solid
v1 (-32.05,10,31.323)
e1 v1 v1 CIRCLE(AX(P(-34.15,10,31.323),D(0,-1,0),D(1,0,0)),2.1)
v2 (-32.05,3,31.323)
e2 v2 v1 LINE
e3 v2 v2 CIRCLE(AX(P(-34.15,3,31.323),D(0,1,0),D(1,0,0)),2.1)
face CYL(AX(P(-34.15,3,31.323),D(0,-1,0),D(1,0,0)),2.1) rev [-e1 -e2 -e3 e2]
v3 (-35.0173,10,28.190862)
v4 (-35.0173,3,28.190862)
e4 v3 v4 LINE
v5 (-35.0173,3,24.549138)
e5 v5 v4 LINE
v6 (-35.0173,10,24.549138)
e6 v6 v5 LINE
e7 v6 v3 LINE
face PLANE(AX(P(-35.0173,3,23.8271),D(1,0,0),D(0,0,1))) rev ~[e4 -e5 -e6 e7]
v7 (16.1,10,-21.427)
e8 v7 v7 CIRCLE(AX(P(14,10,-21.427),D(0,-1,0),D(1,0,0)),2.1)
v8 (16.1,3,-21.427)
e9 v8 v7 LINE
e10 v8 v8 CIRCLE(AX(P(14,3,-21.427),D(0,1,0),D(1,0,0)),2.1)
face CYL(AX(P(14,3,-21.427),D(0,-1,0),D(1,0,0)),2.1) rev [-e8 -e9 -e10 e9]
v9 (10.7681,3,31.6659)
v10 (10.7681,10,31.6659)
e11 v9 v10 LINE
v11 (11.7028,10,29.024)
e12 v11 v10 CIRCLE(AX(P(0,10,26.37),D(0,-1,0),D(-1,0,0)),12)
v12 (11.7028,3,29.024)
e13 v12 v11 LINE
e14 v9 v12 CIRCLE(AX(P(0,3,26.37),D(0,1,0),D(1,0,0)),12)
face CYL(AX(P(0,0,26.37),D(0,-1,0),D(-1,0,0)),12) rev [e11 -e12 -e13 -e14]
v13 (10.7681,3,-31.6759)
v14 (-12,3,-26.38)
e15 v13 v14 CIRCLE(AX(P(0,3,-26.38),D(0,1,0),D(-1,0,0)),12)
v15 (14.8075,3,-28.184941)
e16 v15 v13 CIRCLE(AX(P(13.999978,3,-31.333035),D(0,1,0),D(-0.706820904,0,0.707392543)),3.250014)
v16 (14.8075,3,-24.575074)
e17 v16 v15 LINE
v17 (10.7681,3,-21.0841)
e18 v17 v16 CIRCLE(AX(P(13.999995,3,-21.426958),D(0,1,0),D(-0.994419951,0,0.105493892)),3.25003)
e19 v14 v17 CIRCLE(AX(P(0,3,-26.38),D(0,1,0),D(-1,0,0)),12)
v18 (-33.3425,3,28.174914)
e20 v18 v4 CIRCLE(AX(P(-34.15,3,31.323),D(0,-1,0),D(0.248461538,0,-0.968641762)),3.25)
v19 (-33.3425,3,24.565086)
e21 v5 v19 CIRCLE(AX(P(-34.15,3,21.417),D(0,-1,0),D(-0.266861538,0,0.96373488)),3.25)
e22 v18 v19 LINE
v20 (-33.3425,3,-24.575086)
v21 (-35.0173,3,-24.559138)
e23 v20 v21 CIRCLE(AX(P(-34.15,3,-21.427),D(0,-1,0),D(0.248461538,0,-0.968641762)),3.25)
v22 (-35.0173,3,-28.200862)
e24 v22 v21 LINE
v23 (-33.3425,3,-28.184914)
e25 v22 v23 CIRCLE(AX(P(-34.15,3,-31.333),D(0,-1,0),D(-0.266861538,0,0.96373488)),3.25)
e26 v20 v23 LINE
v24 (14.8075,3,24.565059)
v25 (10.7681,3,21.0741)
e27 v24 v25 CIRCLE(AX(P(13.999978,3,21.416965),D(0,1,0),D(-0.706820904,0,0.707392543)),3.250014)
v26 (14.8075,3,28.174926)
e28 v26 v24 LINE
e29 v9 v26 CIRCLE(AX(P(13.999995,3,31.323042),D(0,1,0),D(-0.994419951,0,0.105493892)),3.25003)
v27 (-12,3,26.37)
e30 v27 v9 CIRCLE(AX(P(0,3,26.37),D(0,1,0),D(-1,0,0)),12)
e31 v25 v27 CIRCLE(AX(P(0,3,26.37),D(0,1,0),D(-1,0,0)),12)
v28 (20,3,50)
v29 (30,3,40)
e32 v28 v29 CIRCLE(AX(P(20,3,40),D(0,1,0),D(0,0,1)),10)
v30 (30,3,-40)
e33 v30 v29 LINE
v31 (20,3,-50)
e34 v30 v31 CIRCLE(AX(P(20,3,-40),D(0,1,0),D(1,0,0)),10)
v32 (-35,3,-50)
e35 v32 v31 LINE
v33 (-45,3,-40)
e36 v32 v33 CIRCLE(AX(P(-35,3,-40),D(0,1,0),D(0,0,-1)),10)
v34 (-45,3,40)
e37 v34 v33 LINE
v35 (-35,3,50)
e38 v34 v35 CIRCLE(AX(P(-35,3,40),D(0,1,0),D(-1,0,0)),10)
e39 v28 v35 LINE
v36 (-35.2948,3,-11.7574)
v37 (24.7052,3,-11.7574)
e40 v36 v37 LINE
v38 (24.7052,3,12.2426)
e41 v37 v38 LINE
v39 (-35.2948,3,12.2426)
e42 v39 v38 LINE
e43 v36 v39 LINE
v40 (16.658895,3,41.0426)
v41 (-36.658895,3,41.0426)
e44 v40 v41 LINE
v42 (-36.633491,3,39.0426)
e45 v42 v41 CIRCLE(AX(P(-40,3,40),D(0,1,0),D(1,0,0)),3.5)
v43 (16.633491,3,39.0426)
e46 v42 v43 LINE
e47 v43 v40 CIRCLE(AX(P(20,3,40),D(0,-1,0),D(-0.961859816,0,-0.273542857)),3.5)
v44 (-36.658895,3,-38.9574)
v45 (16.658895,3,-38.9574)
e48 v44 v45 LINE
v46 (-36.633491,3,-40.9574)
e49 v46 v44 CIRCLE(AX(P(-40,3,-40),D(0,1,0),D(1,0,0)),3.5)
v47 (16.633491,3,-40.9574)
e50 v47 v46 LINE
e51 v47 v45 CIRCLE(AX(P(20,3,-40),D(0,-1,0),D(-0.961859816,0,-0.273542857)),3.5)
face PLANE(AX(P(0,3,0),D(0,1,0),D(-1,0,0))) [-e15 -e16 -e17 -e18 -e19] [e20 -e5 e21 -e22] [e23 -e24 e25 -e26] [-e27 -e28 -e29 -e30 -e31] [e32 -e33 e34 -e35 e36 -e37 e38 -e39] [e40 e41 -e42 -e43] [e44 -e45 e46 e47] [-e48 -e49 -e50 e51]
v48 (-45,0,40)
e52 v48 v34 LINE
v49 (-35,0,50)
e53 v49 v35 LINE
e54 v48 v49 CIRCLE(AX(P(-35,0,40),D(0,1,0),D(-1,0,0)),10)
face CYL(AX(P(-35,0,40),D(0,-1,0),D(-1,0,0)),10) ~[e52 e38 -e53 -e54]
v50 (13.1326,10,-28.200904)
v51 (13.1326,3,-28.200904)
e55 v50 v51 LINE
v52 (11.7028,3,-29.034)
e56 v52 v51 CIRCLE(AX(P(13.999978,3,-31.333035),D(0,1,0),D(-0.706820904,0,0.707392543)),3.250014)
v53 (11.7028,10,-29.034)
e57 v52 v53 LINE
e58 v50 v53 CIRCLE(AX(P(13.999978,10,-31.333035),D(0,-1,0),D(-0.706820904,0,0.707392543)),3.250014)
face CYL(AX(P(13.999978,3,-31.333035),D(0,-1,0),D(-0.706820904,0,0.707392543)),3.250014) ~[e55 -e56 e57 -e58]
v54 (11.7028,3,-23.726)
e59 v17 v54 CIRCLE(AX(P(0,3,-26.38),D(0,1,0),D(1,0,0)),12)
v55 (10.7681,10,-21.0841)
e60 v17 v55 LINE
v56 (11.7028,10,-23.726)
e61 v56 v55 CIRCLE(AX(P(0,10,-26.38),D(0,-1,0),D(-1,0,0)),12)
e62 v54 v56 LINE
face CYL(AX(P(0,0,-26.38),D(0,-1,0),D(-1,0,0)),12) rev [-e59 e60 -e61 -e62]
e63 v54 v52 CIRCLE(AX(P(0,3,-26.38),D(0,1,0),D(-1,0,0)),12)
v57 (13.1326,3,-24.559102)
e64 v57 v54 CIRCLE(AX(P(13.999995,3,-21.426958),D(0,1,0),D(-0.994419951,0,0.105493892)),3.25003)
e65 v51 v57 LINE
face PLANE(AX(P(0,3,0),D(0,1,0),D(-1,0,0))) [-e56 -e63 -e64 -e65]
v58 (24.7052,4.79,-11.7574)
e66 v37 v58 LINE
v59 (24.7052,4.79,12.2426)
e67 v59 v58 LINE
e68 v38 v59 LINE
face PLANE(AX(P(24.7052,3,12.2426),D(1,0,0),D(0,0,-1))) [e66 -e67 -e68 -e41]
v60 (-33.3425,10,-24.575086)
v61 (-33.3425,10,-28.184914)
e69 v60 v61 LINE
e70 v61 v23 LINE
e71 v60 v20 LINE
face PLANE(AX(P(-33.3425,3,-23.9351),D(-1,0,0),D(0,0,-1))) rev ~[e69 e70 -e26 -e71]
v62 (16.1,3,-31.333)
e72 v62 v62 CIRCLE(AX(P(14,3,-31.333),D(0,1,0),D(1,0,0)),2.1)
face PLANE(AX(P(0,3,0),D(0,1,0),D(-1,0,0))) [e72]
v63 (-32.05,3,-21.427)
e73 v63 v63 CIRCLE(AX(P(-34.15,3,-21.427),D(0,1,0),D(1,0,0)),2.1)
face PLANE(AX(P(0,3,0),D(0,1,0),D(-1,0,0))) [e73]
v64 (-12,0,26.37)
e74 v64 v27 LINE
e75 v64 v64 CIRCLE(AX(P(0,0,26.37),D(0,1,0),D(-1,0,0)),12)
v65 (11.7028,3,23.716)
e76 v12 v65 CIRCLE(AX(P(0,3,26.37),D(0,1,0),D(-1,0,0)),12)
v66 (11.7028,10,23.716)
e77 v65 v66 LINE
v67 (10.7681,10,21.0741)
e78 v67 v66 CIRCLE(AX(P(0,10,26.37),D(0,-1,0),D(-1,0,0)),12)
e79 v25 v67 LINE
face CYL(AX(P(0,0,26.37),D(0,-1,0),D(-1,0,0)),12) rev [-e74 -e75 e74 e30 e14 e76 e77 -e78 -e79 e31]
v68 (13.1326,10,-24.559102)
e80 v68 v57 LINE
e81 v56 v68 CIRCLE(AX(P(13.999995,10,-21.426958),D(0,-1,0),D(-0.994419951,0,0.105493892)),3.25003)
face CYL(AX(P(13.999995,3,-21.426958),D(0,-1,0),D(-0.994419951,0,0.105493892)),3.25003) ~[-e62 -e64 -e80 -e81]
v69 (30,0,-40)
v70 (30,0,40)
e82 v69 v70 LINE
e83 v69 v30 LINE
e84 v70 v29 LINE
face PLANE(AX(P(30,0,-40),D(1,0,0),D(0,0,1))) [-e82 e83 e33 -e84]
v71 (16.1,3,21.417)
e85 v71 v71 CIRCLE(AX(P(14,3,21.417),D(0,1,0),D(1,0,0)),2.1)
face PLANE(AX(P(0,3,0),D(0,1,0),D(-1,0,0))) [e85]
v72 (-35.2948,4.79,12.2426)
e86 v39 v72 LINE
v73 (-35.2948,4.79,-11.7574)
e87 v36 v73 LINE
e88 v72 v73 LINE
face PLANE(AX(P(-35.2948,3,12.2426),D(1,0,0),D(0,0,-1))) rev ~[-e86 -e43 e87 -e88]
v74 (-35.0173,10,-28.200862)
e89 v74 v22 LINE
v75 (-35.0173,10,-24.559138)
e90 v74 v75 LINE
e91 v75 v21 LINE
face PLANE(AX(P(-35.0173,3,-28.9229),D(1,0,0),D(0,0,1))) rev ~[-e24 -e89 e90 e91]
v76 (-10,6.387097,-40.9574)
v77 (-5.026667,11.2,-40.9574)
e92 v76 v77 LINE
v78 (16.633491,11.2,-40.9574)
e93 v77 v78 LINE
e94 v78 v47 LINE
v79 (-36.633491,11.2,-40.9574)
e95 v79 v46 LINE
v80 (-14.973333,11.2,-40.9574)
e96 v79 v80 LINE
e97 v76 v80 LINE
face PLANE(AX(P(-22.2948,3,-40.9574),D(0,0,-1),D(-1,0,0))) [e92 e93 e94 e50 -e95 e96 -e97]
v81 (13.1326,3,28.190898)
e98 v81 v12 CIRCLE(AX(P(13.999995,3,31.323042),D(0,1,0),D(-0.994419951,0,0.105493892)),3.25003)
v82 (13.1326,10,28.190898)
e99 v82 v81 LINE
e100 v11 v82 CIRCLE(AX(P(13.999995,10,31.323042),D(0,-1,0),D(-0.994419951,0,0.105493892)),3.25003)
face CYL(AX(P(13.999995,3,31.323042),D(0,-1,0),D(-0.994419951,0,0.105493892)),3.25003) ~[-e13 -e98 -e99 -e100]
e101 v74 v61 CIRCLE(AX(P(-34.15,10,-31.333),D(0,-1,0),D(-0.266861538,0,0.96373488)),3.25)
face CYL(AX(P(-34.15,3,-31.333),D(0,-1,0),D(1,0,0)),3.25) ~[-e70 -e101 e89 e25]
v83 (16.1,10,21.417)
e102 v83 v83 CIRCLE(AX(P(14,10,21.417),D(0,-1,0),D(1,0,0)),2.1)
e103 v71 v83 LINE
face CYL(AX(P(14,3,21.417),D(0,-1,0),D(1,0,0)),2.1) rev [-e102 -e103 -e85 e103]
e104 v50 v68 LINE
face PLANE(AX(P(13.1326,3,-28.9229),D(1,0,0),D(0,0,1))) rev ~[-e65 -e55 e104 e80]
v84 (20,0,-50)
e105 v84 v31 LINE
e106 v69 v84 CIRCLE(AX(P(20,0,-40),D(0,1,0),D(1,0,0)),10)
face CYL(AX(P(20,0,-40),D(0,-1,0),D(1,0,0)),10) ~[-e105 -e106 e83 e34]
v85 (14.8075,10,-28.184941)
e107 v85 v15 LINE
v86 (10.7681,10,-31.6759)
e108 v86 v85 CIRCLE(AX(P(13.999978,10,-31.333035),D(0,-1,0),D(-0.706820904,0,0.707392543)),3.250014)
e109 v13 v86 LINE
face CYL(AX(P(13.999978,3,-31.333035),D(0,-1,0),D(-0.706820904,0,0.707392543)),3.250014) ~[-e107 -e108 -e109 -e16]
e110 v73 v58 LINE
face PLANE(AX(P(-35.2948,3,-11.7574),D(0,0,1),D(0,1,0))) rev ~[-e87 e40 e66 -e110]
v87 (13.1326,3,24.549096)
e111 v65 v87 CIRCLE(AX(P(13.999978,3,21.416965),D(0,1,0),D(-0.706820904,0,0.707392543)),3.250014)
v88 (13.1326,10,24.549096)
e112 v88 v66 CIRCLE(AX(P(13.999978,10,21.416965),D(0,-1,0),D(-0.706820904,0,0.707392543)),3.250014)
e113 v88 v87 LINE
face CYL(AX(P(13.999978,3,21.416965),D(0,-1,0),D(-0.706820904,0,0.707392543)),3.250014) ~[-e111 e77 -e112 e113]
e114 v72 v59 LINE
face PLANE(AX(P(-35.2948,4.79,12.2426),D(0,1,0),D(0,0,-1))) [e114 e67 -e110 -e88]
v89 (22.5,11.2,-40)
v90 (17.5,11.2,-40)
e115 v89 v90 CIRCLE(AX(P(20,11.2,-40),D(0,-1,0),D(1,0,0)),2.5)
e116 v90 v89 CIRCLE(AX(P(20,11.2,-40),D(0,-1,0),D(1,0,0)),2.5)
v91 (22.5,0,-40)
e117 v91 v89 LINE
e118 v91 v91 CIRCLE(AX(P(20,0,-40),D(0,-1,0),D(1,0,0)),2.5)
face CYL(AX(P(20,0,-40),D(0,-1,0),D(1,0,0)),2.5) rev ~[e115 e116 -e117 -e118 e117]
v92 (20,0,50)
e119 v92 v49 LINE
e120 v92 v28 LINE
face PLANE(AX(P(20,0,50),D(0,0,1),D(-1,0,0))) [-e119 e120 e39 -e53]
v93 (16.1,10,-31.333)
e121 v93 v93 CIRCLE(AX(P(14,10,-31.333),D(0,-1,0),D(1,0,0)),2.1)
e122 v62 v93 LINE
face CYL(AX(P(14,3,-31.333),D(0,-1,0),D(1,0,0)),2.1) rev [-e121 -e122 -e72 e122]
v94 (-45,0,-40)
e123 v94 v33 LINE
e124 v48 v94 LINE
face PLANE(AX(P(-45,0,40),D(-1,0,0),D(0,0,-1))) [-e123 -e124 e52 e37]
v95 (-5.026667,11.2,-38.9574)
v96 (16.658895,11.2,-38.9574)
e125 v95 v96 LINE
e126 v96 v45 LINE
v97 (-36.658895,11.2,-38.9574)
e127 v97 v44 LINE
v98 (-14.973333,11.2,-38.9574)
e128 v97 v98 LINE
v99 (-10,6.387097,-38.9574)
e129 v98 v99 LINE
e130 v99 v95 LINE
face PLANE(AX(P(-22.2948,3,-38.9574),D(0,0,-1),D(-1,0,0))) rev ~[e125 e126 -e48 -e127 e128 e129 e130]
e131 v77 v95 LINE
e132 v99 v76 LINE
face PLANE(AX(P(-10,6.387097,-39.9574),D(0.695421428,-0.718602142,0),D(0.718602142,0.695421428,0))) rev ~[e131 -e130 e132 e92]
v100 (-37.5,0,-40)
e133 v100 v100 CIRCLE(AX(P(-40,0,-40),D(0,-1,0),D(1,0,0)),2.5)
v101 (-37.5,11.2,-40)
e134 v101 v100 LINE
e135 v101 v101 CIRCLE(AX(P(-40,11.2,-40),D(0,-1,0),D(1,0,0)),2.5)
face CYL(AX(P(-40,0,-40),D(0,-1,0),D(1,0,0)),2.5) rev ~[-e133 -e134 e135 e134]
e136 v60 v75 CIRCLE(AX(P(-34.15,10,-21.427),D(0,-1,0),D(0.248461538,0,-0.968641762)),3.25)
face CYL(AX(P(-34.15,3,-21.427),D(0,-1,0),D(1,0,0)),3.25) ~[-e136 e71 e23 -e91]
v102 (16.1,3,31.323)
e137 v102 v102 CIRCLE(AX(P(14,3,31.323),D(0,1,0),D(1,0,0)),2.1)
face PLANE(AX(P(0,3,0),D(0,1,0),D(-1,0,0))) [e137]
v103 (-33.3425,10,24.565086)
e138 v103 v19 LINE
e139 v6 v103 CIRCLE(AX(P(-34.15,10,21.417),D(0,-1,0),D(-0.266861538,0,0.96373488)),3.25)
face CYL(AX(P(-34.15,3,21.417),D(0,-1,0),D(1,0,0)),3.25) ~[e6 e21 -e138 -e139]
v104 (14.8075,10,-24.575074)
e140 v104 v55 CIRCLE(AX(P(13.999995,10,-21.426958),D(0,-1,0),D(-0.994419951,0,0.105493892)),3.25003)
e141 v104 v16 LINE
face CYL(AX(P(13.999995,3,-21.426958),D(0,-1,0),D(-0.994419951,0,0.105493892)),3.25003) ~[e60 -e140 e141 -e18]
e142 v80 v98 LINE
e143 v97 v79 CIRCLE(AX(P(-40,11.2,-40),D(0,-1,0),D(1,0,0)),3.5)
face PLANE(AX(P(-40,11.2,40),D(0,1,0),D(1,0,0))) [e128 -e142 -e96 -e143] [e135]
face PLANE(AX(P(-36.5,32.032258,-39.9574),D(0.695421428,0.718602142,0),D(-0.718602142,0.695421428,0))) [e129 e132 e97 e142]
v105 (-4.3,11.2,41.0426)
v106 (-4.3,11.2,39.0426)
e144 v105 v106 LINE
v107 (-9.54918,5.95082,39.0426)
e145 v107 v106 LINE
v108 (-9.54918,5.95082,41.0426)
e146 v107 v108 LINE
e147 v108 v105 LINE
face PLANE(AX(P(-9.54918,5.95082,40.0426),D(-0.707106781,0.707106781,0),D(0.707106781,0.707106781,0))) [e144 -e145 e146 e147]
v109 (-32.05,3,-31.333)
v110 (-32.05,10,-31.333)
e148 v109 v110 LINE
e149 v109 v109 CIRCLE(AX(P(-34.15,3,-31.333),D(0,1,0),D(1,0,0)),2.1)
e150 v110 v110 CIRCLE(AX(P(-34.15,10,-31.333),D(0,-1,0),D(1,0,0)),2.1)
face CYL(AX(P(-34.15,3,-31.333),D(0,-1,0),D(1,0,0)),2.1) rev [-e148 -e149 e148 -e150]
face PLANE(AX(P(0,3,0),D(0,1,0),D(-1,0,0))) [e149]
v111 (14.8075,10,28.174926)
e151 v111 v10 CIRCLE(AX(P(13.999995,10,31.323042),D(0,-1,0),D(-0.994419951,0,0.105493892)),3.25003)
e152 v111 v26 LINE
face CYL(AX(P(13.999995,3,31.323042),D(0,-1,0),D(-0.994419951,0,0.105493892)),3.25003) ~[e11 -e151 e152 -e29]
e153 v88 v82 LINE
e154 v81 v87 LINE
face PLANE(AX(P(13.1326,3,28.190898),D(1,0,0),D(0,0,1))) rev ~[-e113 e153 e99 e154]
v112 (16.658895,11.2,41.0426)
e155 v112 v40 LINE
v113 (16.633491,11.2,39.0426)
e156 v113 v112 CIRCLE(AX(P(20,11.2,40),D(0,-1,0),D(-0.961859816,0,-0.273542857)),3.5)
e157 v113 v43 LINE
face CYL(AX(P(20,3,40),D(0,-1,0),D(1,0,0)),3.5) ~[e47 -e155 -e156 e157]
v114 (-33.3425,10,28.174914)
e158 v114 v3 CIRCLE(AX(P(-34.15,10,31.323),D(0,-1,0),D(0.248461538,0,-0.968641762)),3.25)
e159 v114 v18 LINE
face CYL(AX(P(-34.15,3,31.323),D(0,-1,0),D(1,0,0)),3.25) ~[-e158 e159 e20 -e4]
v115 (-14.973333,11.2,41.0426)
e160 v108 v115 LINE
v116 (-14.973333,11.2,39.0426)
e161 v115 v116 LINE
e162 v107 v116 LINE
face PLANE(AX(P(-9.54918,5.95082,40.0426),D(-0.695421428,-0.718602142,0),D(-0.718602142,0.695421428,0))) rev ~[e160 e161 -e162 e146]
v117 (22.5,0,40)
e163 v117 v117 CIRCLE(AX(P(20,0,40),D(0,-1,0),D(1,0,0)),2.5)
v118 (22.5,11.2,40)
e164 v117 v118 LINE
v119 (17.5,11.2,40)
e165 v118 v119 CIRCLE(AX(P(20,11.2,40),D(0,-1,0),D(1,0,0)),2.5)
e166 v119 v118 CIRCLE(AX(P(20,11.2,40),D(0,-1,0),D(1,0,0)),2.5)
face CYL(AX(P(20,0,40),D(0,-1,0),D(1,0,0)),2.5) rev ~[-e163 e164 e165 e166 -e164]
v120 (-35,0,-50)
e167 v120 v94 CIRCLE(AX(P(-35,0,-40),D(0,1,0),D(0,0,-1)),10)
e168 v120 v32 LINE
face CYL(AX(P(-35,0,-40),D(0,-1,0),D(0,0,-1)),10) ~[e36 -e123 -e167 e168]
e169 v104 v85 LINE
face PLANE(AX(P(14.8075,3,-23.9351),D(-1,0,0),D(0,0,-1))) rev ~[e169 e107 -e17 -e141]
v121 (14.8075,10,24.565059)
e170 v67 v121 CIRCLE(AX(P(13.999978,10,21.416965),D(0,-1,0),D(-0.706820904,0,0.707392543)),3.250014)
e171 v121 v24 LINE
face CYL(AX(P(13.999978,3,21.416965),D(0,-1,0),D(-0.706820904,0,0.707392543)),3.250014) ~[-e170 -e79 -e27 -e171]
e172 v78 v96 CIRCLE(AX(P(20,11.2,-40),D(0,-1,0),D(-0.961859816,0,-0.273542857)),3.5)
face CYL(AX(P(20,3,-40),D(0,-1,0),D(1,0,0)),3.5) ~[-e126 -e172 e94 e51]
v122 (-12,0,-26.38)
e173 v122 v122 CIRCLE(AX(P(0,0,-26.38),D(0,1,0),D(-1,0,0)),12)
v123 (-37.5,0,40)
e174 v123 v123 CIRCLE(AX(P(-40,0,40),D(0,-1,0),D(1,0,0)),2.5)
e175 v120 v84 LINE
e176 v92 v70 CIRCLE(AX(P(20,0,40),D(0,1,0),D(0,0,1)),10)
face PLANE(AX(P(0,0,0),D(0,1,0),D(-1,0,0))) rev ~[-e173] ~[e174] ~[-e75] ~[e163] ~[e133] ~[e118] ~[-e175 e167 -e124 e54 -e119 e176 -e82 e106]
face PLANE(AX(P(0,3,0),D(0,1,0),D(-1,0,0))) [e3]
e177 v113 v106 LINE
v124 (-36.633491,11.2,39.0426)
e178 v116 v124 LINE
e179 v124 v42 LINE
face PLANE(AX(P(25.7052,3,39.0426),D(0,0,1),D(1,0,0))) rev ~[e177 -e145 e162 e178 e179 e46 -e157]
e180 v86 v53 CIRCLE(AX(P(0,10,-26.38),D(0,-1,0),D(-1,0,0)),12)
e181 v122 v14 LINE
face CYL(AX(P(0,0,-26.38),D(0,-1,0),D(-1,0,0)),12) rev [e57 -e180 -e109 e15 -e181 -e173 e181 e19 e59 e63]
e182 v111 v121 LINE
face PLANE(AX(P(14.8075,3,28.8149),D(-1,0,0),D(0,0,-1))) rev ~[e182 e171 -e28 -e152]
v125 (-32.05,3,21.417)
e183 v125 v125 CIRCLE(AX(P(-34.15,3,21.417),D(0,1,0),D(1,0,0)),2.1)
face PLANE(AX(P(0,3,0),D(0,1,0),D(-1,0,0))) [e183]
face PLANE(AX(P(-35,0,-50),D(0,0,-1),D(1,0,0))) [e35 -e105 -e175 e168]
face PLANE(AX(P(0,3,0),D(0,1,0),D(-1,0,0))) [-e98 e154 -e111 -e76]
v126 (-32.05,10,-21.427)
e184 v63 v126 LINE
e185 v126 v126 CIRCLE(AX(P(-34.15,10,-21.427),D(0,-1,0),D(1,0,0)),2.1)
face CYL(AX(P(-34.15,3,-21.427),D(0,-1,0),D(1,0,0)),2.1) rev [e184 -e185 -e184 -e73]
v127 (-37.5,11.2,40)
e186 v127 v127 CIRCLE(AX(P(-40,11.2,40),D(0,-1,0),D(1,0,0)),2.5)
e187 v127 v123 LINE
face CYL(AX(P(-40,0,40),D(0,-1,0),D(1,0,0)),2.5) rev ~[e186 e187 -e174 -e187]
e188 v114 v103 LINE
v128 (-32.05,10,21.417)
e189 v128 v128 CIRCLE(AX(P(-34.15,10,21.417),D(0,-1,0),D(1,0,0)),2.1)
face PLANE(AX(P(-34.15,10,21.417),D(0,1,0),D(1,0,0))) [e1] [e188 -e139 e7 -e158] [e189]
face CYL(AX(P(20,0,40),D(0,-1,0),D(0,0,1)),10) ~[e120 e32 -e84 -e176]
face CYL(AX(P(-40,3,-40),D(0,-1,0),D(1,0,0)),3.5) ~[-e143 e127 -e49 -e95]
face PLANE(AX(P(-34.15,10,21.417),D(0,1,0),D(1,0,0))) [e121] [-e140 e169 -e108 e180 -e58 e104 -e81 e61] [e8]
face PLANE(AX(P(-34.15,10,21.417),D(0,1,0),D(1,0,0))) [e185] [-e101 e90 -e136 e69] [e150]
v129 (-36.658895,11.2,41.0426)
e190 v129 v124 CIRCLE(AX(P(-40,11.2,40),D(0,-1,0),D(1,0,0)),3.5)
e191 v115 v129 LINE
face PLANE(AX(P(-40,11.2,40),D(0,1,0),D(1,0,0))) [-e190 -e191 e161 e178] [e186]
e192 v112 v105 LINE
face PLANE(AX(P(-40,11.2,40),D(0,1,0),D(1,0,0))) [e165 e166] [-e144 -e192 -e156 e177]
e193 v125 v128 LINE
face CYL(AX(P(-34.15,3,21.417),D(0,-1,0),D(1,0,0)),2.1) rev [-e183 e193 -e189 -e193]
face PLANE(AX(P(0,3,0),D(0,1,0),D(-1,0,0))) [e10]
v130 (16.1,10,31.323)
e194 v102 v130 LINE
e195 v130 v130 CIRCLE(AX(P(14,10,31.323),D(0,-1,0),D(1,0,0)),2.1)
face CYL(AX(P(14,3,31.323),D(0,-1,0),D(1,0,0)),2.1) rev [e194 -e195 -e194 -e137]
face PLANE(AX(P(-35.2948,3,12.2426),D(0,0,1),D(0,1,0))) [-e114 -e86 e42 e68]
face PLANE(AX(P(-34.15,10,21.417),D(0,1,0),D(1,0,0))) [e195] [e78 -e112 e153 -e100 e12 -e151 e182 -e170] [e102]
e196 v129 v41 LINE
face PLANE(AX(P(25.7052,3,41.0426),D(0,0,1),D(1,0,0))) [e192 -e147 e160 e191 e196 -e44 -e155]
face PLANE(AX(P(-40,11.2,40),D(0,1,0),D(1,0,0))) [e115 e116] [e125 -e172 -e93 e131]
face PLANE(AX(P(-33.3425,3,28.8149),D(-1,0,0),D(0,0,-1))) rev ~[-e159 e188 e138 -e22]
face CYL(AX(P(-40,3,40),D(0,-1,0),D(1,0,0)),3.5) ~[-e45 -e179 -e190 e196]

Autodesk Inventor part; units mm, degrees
sketch "Sketch1" plane through (0, 0, 0) normal (0, 1, 0) x (-1, 0, 0)
  line L0 (45, 40) -> (45, -40)
  circle A0 centre (0, 26.37) radius 12
  circle A1 centre (0, -26.38) radius 12
  line L1 (45, 40) -> (45, 40)
  line L2 (45, -40) -> (45, -40)
  line L3 (45, 40) -> (45, 40)
  line L4 (45, -40) -> (45, -40)
  line L5 (35, -50) -> (-20, -50)
  line L6 (-30, -40) -> (-30, 40)
  line L7 (-20, 50) -> (35, 50)
  arc A2 (45, 40) -> (35, 50) centre (35, 40) ccw
  arc A3 (-20, 50) -> (-30, 40) centre (-20, 40) ccw
  arc A4 (-30, -40) -> (-20, -50) centre (-20, -40) ccw
  arc A5 (35, -50) -> (45, -40) centre (35, -40) ccw
  point P0 (0, 0)
  dimension "d4" = 24
  dimension "d5" = 24
extrude "Extrusion1" add sketch "Sketch1" along normal blind 3
sketch "Sketch4" plane through (0, 3, 0) normal (0, 1, 0) x (1, 0, 0)
  arc A0 (11.7028, -23.716) -> (10.7681, -21.0741) centre (14, -21.417) ccw
  arc A1 (10.7681, -31.6659) -> (11.7028, -29.024) centre (14, -31.323) ccw
  circle A2 centre (0, -26.37) radius 12
  circle A3 centre (-34.15, -21.417) radius 3.25
  circle A4 centre (-34.15, -31.323) radius 3.25
  circle A5 centre (0, 26.38) radius 12
  arc A6 (11.7028, 29.034) -> (10.7681, 31.6759) centre (14, 31.333) ccw
  arc A7 (10.7681, 21.0841) -> (11.7028, 23.726) centre (14, 21.427) ccw
  circle A8 centre (-34.15, 31.333) radius 3.25
  circle A9 centre (-34.15, 21.427) radius 3.25
  arc A10 (11.7028, 29.034) -> (10.7681, 31.6759) centre (14, 31.333) ccw
  arc A11 (10.7681, 21.0841) -> (11.7028, 23.726) centre (14, 21.427) ccw
  circle A12 centre (14, -31.323) radius 2.1
  circle A13 centre (14, -21.417) radius 2.1
  circle A14 centre (-34.15, -21.417) radius 2.1
  circle A15 centre (-34.15, -31.323) radius 2.1
  circle A16 centre (14, 21.427) radius 2.1
  circle A17 centre (14, 31.333) radius 2.1
  circle A18 centre (-34.15, 31.333) radius 2.1
  circle A19 centre (-34.15, 21.427) radius 2.1
  point P0 (0, 0)
  dimension "d8" = 6.5
  dimension "d9" = 6.5
  dimension "d10" = 6.5
  dimension "d11" = 6.5
  dimension "d14" = 6.5
  dimension "d15" = 6.5
  dimension "d16" = 6.5
  dimension "d17" = 6.5
  dimension "d85" = 4.2
  dimension "d86" = 4.2
  dimension "d87" = 4.2
  dimension "d88" = 4.2
  dimension "d89" = 4.2
  dimension "d90" = 4.2
  dimension "d91" = 4.2
  dimension "d92" = 4.2
sketch "Sketch12" plane through (0, 3, 0) normal (0, 1, 0) x (1, 0, 0)
  arc A0 (-45, -40) -> (-40, -50) centre (-40, -40) ccw projected
  arc A1 (-40, 50) -> (-45, 40) centre (-40, 40) ccw projected
  arc A2 (40, -50) -> (50, -40) centre (40, -40) ccw projected
  arc A3 (50, 40) -> (40, 50) centre (40, 40) ccw projected
  circle A4 centre (-40, -40) radius 3.5
  circle A5 centre (-40, 40) radius 3.5
  circle A6 centre (20, 40) radius 3.5
  circle A7 centre (20, -40) radius 3.5
  point P0 (0, 0)
  dimension "d66" = 7
  dimension "d67" = 7
  dimension "d68" = 7
  dimension "d69" = 7
extrude "Extrusion10" add sketch "Sketch12" along normal blind 40.2
sketch "Sketch13" plane through (0, 0, 0) normal (0, -1, 0) x (1, 0, 0)
  circle A0 centre (-40, 40) radius 3.5 projected
  circle A1 centre (-40, -40) radius 3.5 projected
  circle A2 centre (20, -40) radius 3.5 projected
  circle A3 centre (20, 40) radius 3.5 projected
  circle A4 centre (-40, 40) radius 2.5
  circle A5 centre (20, 40) radius 2.5
  circle A6 centre (20, -40) radius 2.5
  circle A7 centre (-40, -40) radius 2.5
  point P0 (0, 0)
  dimension "d72" = 5
  dimension "d73" = 5
  dimension "d74" = 5
  dimension "d75" = 5
extrude "Extrusion11" cut sketch "Sketch13" against normal blind 40.2 contours A4 | A5 | A6 | A7
sketch "Sketch15" plane through (0, 0, 0) normal (0, -1, 0) x (1, 0, 0)
  circle A0 centre (20, -40) radius 2.5 projected
  circle A1 centre (20, -40) radius 1.5
  circle A2 centre (-40, -40) radius 2.5 projected
  circle A3 centre (-40, 40) radius 2.5 projected
  circle A4 centre (20, 40) radius 2.5 projected
  circle A5 centre (-40, -40) radius 1.5
  circle A6 centre (40, 40) radius 1.5
  circle A7 centre (-40, 40) radius 1.5
  point P0 (0, 0)
  dimension "d78" = 3
  dimension "d79" = 3
  dimension "d80" = 3
  dimension "d81" = 3
extrude "Extrusion12" cut sketch "Sketch15" against normal blind 45 contours A1 | A5 | A6 | A7
extrude "Extrusion13" add sketch "Sketch4" along normal blind 18.75 contours A2 A0 | A2 A1 | A3 | A4 | A5 A6 | A7 A5 | A8 | A9
sketch "Sketch16" plane through (0, 3, 0) normal (0, 1, 0) x (1, 0, 0)
  arc A0 (10.7681, -31.6659) -> (11.7028, -29.024) centre (14, -31.323) ccw projected
  line L0 (13.1326, -28.8149) -> (14.8075, -28.8149)
  line L1 (14.8075, -28.8149) -> (14.8075, -23.8271)
  line L2 (14.8075, -23.8271) -> (13.1326, -23.8271)
  line L3 (13.1326, -23.8271) -> (13.1326, -28.8149)
  circle A1 centre (-34.15, -31.323) radius 2.1 projected
  circle A2 centre (-34.15, 21.427) radius 2.1 projected
  circle A3 centre (14, 21.427) radius 2.1 projected
  line L4 (-35.0173, -28.8149) -> (-33.3425, -28.8149)
  line L5 (-33.3425, -28.8149) -> (-33.3425, -23.8271)
  line L6 (-33.3425, -23.8271) -> (-35.0173, -23.8271)
  line L7 (-35.0173, -23.8271) -> (-35.0173, -28.8149)
  line L8 (-35.0173, 23.9351) -> (-33.3425, 23.9351)
  line L9 (-33.3425, 23.9351) -> (-33.3425, 28.9229)
  line L10 (-33.3425, 28.9229) -> (-35.0173, 28.9229)
  line L11 (-35.0173, 28.9229) -> (-35.0173, 23.9351)
  line L12 (13.1326, 23.9351) -> (14.8075, 23.9351)
  line L13 (14.8075, 23.9351) -> (14.8075, 28.9229)
  line L14 (14.8075, 28.9229) -> (13.1326, 28.9229)
  line L15 (13.1326, 28.9229) -> (13.1326, 23.9351)
  point P0 (0, 0)
extrude "Extrusion14" add sketch "Sketch16" along normal blind 15 contours L1 L0 L3 A0 | A0 L3 L2 L1 | L7 L6 L5 L4 | L11 L10 L9 L8 | L15 L14 L13 L12
ref_plane "Work Plane1" through (25.7052, 3, 40.0426) normal (0, 0, 1) x (1, 0, 0)
sketch "Sketch17" plane through (25.7052, 3, 40.0426) normal (0, 0, 1) x (1, 0, 0)
  line L0 (-9.2052, 0) -> (-2.2052, 0) projected
  line L1 (-9.2052, 0) -> (-8.2052, 0)
  line L2 (-8.2052, 0) -> (-8.2052, 30)
  line L3 (-8.2052, -3) -> (-8.2052, 37.2) projected
  line L4 (-8.2052, 0) -> (-38.2052, 0)
  line L5 (-38.2052, 0) -> (-8.2052, 30)
  line L6 (-69.2052, 0) -> (-62.2052, 0) projected
  line L7 (-62.2052, 0) -> (-63.2052, 0)
  line L8 (-63.2052, 0) -> (-63.2052, 30)
  line L9 (-63.2052, -3) -> (-63.2052, 37.2) projected
  line L10 (-62.2052, 0) -> (-32.2052, 0)
  line L11 (-32.2052, 0) -> (-63.2052, 30)
  point P0 (-25.7052, -3)
  dimension "d100" = 1
  dimension "d101" = 30
  dimension "d102" = 30
  dimension "d103" = 1
  dimension "d104" = 30
  dimension "d105" = 30
extrude "Extrusion15" add sketch "Sketch17" along normal blind 1 and the other way blind 1
ref_plane "Work Plane2" through (-22.2948, 3, -39.9574) normal (0, 0, -1) x (-1, 0, 0)
sketch "Sketch18" plane through (-22.2948, 3, -39.9574) normal (0, 0, -1) x (-1, 0, 0)
  line L0 (14.2052, 0) -> (21.2052, 0) projected
  line L1 (14.2052, 0) -> (15.2052, 0)
  line L2 (15.2052, 0) -> (15.2052, 30)
  line L3 (14.2052, 0) -> (-15.7948, 0)
  line L4 (14.2052, 0) -> (14.2052, 40.2) projected
  line L5 (14.2052, 0) -> (44.2052, 0) construction
  line L6 (-15.7948, 0) -> (15.2052, 30)
  line L7 (-45.7948, 0) -> (-38.7948, 0) projected
  line L8 (-38.7948, 0) -> (-39.7948, 0)
  line L9 (-39.7948, -3) -> (-39.7948, 37.2) projected
  line L10 (-39.7948, 0) -> (-39.7948, 30)
  line L11 (-38.7948, 0) -> (-8.7948, 0)
  line L12 (-8.7948, 0) -> (-39.7948, 30)
  point P0 (-22.2948, -3)
  dimension "d111" = 1
  dimension "d112" = 30
  dimension "d114" = 30
  dimension "d116" = 1
  dimension "d117" = 30
  dimension "d118" = 90
  dimension "d119" = 30
extrude "Extrusion16" add sketch "Sketch18" along normal blind 1 and the other way blind 1
ref_plane "Plano de trabajo3" through (-35.2948, 3, 12.2426) normal (1, 0, 0) x (0, 0, -1)
sketch "Sketch19" plane through (-35.2948, 3, 12.2426) normal (1, 0, 0) x (0, 0, -1)
  line L0 (24, 0) -> (0, 0)
  line L1 (24, 0) -> (24, 1.79)
  line L2 (0, 0) -> (0, 1.79)
  line L3 (24, 0) -> (0, 0)
  line L4 (0, 0) -> (0, 1.79)
  line L5 (0, 0) -> (0, 1.79)
  line L6 (0, 1.79) -> (24, 1.79)
  line L7 (24, 0) -> (24, 1.79)
  line L8 (24, 0) -> (0, 0)
  point P0 (12.2426, -3)
  dimension "d124" = 1.79
extrude "Extrusion17" add sketch "Sketch19" along normal blind 60
sketch "Boceto20" plane through (0, 0, 0) normal (0, -1, 0) x (1, 0, 0)
  circle A0 centre (20, 40) radius 1.5
  dimension "d134" = 3
extrude "Extrusión18" cut sketch "Boceto20" against normal blind 50
sketch "Boceto21" plane through (-34.15, 21.75, 21.417) normal (0, 1, 0) x (1, 0, 0)
  line L0 (-4.6077, 4.0688) -> (55.0118, 4.0688)
  line L1 (55.0118, 4.0688) -> (55.0118, -14.3175)
  line L2 (55.0118, -14.3175) -> (-4.6077, -14.3175)
  line L3 (-4.6077, -14.3175) -> (-4.6077, 4.0688)
  line L4 (-4.6077, 36.816) -> (54.2502, 36.816)
  line L5 (54.2502, 36.816) -> (54.2502, 56.8342)
  line L6 (54.2502, 56.8342) -> (-4.6077, 56.8342)
  line L7 (-4.6077, 56.8342) -> (-4.6077, 36.816)
  point P0 (34.15, 21.417)
extrude "Extrusión19" cut sketch "Boceto21" against normal blind 11.75
sketch "Boceto22" plane through (-40, 43.2, 40) normal (0, 1, 0) x (1, 0, 0)
  line L0 (-10.3612, -16.6308) -> (76.4591, -16.6308)
  line L1 (76.4591, -16.6308) -> (76.4591, 125.6618)
  line L2 (76.4591, 125.6618) -> (-10.3612, 125.6618)
  line L3 (-10.3612, 125.6618) -> (-10.3612, -16.6308)
  point P0 (40, 40)
extrude "Extrusión20" cut sketch "Boceto22" against normal blind 32
properties part number "Base"
